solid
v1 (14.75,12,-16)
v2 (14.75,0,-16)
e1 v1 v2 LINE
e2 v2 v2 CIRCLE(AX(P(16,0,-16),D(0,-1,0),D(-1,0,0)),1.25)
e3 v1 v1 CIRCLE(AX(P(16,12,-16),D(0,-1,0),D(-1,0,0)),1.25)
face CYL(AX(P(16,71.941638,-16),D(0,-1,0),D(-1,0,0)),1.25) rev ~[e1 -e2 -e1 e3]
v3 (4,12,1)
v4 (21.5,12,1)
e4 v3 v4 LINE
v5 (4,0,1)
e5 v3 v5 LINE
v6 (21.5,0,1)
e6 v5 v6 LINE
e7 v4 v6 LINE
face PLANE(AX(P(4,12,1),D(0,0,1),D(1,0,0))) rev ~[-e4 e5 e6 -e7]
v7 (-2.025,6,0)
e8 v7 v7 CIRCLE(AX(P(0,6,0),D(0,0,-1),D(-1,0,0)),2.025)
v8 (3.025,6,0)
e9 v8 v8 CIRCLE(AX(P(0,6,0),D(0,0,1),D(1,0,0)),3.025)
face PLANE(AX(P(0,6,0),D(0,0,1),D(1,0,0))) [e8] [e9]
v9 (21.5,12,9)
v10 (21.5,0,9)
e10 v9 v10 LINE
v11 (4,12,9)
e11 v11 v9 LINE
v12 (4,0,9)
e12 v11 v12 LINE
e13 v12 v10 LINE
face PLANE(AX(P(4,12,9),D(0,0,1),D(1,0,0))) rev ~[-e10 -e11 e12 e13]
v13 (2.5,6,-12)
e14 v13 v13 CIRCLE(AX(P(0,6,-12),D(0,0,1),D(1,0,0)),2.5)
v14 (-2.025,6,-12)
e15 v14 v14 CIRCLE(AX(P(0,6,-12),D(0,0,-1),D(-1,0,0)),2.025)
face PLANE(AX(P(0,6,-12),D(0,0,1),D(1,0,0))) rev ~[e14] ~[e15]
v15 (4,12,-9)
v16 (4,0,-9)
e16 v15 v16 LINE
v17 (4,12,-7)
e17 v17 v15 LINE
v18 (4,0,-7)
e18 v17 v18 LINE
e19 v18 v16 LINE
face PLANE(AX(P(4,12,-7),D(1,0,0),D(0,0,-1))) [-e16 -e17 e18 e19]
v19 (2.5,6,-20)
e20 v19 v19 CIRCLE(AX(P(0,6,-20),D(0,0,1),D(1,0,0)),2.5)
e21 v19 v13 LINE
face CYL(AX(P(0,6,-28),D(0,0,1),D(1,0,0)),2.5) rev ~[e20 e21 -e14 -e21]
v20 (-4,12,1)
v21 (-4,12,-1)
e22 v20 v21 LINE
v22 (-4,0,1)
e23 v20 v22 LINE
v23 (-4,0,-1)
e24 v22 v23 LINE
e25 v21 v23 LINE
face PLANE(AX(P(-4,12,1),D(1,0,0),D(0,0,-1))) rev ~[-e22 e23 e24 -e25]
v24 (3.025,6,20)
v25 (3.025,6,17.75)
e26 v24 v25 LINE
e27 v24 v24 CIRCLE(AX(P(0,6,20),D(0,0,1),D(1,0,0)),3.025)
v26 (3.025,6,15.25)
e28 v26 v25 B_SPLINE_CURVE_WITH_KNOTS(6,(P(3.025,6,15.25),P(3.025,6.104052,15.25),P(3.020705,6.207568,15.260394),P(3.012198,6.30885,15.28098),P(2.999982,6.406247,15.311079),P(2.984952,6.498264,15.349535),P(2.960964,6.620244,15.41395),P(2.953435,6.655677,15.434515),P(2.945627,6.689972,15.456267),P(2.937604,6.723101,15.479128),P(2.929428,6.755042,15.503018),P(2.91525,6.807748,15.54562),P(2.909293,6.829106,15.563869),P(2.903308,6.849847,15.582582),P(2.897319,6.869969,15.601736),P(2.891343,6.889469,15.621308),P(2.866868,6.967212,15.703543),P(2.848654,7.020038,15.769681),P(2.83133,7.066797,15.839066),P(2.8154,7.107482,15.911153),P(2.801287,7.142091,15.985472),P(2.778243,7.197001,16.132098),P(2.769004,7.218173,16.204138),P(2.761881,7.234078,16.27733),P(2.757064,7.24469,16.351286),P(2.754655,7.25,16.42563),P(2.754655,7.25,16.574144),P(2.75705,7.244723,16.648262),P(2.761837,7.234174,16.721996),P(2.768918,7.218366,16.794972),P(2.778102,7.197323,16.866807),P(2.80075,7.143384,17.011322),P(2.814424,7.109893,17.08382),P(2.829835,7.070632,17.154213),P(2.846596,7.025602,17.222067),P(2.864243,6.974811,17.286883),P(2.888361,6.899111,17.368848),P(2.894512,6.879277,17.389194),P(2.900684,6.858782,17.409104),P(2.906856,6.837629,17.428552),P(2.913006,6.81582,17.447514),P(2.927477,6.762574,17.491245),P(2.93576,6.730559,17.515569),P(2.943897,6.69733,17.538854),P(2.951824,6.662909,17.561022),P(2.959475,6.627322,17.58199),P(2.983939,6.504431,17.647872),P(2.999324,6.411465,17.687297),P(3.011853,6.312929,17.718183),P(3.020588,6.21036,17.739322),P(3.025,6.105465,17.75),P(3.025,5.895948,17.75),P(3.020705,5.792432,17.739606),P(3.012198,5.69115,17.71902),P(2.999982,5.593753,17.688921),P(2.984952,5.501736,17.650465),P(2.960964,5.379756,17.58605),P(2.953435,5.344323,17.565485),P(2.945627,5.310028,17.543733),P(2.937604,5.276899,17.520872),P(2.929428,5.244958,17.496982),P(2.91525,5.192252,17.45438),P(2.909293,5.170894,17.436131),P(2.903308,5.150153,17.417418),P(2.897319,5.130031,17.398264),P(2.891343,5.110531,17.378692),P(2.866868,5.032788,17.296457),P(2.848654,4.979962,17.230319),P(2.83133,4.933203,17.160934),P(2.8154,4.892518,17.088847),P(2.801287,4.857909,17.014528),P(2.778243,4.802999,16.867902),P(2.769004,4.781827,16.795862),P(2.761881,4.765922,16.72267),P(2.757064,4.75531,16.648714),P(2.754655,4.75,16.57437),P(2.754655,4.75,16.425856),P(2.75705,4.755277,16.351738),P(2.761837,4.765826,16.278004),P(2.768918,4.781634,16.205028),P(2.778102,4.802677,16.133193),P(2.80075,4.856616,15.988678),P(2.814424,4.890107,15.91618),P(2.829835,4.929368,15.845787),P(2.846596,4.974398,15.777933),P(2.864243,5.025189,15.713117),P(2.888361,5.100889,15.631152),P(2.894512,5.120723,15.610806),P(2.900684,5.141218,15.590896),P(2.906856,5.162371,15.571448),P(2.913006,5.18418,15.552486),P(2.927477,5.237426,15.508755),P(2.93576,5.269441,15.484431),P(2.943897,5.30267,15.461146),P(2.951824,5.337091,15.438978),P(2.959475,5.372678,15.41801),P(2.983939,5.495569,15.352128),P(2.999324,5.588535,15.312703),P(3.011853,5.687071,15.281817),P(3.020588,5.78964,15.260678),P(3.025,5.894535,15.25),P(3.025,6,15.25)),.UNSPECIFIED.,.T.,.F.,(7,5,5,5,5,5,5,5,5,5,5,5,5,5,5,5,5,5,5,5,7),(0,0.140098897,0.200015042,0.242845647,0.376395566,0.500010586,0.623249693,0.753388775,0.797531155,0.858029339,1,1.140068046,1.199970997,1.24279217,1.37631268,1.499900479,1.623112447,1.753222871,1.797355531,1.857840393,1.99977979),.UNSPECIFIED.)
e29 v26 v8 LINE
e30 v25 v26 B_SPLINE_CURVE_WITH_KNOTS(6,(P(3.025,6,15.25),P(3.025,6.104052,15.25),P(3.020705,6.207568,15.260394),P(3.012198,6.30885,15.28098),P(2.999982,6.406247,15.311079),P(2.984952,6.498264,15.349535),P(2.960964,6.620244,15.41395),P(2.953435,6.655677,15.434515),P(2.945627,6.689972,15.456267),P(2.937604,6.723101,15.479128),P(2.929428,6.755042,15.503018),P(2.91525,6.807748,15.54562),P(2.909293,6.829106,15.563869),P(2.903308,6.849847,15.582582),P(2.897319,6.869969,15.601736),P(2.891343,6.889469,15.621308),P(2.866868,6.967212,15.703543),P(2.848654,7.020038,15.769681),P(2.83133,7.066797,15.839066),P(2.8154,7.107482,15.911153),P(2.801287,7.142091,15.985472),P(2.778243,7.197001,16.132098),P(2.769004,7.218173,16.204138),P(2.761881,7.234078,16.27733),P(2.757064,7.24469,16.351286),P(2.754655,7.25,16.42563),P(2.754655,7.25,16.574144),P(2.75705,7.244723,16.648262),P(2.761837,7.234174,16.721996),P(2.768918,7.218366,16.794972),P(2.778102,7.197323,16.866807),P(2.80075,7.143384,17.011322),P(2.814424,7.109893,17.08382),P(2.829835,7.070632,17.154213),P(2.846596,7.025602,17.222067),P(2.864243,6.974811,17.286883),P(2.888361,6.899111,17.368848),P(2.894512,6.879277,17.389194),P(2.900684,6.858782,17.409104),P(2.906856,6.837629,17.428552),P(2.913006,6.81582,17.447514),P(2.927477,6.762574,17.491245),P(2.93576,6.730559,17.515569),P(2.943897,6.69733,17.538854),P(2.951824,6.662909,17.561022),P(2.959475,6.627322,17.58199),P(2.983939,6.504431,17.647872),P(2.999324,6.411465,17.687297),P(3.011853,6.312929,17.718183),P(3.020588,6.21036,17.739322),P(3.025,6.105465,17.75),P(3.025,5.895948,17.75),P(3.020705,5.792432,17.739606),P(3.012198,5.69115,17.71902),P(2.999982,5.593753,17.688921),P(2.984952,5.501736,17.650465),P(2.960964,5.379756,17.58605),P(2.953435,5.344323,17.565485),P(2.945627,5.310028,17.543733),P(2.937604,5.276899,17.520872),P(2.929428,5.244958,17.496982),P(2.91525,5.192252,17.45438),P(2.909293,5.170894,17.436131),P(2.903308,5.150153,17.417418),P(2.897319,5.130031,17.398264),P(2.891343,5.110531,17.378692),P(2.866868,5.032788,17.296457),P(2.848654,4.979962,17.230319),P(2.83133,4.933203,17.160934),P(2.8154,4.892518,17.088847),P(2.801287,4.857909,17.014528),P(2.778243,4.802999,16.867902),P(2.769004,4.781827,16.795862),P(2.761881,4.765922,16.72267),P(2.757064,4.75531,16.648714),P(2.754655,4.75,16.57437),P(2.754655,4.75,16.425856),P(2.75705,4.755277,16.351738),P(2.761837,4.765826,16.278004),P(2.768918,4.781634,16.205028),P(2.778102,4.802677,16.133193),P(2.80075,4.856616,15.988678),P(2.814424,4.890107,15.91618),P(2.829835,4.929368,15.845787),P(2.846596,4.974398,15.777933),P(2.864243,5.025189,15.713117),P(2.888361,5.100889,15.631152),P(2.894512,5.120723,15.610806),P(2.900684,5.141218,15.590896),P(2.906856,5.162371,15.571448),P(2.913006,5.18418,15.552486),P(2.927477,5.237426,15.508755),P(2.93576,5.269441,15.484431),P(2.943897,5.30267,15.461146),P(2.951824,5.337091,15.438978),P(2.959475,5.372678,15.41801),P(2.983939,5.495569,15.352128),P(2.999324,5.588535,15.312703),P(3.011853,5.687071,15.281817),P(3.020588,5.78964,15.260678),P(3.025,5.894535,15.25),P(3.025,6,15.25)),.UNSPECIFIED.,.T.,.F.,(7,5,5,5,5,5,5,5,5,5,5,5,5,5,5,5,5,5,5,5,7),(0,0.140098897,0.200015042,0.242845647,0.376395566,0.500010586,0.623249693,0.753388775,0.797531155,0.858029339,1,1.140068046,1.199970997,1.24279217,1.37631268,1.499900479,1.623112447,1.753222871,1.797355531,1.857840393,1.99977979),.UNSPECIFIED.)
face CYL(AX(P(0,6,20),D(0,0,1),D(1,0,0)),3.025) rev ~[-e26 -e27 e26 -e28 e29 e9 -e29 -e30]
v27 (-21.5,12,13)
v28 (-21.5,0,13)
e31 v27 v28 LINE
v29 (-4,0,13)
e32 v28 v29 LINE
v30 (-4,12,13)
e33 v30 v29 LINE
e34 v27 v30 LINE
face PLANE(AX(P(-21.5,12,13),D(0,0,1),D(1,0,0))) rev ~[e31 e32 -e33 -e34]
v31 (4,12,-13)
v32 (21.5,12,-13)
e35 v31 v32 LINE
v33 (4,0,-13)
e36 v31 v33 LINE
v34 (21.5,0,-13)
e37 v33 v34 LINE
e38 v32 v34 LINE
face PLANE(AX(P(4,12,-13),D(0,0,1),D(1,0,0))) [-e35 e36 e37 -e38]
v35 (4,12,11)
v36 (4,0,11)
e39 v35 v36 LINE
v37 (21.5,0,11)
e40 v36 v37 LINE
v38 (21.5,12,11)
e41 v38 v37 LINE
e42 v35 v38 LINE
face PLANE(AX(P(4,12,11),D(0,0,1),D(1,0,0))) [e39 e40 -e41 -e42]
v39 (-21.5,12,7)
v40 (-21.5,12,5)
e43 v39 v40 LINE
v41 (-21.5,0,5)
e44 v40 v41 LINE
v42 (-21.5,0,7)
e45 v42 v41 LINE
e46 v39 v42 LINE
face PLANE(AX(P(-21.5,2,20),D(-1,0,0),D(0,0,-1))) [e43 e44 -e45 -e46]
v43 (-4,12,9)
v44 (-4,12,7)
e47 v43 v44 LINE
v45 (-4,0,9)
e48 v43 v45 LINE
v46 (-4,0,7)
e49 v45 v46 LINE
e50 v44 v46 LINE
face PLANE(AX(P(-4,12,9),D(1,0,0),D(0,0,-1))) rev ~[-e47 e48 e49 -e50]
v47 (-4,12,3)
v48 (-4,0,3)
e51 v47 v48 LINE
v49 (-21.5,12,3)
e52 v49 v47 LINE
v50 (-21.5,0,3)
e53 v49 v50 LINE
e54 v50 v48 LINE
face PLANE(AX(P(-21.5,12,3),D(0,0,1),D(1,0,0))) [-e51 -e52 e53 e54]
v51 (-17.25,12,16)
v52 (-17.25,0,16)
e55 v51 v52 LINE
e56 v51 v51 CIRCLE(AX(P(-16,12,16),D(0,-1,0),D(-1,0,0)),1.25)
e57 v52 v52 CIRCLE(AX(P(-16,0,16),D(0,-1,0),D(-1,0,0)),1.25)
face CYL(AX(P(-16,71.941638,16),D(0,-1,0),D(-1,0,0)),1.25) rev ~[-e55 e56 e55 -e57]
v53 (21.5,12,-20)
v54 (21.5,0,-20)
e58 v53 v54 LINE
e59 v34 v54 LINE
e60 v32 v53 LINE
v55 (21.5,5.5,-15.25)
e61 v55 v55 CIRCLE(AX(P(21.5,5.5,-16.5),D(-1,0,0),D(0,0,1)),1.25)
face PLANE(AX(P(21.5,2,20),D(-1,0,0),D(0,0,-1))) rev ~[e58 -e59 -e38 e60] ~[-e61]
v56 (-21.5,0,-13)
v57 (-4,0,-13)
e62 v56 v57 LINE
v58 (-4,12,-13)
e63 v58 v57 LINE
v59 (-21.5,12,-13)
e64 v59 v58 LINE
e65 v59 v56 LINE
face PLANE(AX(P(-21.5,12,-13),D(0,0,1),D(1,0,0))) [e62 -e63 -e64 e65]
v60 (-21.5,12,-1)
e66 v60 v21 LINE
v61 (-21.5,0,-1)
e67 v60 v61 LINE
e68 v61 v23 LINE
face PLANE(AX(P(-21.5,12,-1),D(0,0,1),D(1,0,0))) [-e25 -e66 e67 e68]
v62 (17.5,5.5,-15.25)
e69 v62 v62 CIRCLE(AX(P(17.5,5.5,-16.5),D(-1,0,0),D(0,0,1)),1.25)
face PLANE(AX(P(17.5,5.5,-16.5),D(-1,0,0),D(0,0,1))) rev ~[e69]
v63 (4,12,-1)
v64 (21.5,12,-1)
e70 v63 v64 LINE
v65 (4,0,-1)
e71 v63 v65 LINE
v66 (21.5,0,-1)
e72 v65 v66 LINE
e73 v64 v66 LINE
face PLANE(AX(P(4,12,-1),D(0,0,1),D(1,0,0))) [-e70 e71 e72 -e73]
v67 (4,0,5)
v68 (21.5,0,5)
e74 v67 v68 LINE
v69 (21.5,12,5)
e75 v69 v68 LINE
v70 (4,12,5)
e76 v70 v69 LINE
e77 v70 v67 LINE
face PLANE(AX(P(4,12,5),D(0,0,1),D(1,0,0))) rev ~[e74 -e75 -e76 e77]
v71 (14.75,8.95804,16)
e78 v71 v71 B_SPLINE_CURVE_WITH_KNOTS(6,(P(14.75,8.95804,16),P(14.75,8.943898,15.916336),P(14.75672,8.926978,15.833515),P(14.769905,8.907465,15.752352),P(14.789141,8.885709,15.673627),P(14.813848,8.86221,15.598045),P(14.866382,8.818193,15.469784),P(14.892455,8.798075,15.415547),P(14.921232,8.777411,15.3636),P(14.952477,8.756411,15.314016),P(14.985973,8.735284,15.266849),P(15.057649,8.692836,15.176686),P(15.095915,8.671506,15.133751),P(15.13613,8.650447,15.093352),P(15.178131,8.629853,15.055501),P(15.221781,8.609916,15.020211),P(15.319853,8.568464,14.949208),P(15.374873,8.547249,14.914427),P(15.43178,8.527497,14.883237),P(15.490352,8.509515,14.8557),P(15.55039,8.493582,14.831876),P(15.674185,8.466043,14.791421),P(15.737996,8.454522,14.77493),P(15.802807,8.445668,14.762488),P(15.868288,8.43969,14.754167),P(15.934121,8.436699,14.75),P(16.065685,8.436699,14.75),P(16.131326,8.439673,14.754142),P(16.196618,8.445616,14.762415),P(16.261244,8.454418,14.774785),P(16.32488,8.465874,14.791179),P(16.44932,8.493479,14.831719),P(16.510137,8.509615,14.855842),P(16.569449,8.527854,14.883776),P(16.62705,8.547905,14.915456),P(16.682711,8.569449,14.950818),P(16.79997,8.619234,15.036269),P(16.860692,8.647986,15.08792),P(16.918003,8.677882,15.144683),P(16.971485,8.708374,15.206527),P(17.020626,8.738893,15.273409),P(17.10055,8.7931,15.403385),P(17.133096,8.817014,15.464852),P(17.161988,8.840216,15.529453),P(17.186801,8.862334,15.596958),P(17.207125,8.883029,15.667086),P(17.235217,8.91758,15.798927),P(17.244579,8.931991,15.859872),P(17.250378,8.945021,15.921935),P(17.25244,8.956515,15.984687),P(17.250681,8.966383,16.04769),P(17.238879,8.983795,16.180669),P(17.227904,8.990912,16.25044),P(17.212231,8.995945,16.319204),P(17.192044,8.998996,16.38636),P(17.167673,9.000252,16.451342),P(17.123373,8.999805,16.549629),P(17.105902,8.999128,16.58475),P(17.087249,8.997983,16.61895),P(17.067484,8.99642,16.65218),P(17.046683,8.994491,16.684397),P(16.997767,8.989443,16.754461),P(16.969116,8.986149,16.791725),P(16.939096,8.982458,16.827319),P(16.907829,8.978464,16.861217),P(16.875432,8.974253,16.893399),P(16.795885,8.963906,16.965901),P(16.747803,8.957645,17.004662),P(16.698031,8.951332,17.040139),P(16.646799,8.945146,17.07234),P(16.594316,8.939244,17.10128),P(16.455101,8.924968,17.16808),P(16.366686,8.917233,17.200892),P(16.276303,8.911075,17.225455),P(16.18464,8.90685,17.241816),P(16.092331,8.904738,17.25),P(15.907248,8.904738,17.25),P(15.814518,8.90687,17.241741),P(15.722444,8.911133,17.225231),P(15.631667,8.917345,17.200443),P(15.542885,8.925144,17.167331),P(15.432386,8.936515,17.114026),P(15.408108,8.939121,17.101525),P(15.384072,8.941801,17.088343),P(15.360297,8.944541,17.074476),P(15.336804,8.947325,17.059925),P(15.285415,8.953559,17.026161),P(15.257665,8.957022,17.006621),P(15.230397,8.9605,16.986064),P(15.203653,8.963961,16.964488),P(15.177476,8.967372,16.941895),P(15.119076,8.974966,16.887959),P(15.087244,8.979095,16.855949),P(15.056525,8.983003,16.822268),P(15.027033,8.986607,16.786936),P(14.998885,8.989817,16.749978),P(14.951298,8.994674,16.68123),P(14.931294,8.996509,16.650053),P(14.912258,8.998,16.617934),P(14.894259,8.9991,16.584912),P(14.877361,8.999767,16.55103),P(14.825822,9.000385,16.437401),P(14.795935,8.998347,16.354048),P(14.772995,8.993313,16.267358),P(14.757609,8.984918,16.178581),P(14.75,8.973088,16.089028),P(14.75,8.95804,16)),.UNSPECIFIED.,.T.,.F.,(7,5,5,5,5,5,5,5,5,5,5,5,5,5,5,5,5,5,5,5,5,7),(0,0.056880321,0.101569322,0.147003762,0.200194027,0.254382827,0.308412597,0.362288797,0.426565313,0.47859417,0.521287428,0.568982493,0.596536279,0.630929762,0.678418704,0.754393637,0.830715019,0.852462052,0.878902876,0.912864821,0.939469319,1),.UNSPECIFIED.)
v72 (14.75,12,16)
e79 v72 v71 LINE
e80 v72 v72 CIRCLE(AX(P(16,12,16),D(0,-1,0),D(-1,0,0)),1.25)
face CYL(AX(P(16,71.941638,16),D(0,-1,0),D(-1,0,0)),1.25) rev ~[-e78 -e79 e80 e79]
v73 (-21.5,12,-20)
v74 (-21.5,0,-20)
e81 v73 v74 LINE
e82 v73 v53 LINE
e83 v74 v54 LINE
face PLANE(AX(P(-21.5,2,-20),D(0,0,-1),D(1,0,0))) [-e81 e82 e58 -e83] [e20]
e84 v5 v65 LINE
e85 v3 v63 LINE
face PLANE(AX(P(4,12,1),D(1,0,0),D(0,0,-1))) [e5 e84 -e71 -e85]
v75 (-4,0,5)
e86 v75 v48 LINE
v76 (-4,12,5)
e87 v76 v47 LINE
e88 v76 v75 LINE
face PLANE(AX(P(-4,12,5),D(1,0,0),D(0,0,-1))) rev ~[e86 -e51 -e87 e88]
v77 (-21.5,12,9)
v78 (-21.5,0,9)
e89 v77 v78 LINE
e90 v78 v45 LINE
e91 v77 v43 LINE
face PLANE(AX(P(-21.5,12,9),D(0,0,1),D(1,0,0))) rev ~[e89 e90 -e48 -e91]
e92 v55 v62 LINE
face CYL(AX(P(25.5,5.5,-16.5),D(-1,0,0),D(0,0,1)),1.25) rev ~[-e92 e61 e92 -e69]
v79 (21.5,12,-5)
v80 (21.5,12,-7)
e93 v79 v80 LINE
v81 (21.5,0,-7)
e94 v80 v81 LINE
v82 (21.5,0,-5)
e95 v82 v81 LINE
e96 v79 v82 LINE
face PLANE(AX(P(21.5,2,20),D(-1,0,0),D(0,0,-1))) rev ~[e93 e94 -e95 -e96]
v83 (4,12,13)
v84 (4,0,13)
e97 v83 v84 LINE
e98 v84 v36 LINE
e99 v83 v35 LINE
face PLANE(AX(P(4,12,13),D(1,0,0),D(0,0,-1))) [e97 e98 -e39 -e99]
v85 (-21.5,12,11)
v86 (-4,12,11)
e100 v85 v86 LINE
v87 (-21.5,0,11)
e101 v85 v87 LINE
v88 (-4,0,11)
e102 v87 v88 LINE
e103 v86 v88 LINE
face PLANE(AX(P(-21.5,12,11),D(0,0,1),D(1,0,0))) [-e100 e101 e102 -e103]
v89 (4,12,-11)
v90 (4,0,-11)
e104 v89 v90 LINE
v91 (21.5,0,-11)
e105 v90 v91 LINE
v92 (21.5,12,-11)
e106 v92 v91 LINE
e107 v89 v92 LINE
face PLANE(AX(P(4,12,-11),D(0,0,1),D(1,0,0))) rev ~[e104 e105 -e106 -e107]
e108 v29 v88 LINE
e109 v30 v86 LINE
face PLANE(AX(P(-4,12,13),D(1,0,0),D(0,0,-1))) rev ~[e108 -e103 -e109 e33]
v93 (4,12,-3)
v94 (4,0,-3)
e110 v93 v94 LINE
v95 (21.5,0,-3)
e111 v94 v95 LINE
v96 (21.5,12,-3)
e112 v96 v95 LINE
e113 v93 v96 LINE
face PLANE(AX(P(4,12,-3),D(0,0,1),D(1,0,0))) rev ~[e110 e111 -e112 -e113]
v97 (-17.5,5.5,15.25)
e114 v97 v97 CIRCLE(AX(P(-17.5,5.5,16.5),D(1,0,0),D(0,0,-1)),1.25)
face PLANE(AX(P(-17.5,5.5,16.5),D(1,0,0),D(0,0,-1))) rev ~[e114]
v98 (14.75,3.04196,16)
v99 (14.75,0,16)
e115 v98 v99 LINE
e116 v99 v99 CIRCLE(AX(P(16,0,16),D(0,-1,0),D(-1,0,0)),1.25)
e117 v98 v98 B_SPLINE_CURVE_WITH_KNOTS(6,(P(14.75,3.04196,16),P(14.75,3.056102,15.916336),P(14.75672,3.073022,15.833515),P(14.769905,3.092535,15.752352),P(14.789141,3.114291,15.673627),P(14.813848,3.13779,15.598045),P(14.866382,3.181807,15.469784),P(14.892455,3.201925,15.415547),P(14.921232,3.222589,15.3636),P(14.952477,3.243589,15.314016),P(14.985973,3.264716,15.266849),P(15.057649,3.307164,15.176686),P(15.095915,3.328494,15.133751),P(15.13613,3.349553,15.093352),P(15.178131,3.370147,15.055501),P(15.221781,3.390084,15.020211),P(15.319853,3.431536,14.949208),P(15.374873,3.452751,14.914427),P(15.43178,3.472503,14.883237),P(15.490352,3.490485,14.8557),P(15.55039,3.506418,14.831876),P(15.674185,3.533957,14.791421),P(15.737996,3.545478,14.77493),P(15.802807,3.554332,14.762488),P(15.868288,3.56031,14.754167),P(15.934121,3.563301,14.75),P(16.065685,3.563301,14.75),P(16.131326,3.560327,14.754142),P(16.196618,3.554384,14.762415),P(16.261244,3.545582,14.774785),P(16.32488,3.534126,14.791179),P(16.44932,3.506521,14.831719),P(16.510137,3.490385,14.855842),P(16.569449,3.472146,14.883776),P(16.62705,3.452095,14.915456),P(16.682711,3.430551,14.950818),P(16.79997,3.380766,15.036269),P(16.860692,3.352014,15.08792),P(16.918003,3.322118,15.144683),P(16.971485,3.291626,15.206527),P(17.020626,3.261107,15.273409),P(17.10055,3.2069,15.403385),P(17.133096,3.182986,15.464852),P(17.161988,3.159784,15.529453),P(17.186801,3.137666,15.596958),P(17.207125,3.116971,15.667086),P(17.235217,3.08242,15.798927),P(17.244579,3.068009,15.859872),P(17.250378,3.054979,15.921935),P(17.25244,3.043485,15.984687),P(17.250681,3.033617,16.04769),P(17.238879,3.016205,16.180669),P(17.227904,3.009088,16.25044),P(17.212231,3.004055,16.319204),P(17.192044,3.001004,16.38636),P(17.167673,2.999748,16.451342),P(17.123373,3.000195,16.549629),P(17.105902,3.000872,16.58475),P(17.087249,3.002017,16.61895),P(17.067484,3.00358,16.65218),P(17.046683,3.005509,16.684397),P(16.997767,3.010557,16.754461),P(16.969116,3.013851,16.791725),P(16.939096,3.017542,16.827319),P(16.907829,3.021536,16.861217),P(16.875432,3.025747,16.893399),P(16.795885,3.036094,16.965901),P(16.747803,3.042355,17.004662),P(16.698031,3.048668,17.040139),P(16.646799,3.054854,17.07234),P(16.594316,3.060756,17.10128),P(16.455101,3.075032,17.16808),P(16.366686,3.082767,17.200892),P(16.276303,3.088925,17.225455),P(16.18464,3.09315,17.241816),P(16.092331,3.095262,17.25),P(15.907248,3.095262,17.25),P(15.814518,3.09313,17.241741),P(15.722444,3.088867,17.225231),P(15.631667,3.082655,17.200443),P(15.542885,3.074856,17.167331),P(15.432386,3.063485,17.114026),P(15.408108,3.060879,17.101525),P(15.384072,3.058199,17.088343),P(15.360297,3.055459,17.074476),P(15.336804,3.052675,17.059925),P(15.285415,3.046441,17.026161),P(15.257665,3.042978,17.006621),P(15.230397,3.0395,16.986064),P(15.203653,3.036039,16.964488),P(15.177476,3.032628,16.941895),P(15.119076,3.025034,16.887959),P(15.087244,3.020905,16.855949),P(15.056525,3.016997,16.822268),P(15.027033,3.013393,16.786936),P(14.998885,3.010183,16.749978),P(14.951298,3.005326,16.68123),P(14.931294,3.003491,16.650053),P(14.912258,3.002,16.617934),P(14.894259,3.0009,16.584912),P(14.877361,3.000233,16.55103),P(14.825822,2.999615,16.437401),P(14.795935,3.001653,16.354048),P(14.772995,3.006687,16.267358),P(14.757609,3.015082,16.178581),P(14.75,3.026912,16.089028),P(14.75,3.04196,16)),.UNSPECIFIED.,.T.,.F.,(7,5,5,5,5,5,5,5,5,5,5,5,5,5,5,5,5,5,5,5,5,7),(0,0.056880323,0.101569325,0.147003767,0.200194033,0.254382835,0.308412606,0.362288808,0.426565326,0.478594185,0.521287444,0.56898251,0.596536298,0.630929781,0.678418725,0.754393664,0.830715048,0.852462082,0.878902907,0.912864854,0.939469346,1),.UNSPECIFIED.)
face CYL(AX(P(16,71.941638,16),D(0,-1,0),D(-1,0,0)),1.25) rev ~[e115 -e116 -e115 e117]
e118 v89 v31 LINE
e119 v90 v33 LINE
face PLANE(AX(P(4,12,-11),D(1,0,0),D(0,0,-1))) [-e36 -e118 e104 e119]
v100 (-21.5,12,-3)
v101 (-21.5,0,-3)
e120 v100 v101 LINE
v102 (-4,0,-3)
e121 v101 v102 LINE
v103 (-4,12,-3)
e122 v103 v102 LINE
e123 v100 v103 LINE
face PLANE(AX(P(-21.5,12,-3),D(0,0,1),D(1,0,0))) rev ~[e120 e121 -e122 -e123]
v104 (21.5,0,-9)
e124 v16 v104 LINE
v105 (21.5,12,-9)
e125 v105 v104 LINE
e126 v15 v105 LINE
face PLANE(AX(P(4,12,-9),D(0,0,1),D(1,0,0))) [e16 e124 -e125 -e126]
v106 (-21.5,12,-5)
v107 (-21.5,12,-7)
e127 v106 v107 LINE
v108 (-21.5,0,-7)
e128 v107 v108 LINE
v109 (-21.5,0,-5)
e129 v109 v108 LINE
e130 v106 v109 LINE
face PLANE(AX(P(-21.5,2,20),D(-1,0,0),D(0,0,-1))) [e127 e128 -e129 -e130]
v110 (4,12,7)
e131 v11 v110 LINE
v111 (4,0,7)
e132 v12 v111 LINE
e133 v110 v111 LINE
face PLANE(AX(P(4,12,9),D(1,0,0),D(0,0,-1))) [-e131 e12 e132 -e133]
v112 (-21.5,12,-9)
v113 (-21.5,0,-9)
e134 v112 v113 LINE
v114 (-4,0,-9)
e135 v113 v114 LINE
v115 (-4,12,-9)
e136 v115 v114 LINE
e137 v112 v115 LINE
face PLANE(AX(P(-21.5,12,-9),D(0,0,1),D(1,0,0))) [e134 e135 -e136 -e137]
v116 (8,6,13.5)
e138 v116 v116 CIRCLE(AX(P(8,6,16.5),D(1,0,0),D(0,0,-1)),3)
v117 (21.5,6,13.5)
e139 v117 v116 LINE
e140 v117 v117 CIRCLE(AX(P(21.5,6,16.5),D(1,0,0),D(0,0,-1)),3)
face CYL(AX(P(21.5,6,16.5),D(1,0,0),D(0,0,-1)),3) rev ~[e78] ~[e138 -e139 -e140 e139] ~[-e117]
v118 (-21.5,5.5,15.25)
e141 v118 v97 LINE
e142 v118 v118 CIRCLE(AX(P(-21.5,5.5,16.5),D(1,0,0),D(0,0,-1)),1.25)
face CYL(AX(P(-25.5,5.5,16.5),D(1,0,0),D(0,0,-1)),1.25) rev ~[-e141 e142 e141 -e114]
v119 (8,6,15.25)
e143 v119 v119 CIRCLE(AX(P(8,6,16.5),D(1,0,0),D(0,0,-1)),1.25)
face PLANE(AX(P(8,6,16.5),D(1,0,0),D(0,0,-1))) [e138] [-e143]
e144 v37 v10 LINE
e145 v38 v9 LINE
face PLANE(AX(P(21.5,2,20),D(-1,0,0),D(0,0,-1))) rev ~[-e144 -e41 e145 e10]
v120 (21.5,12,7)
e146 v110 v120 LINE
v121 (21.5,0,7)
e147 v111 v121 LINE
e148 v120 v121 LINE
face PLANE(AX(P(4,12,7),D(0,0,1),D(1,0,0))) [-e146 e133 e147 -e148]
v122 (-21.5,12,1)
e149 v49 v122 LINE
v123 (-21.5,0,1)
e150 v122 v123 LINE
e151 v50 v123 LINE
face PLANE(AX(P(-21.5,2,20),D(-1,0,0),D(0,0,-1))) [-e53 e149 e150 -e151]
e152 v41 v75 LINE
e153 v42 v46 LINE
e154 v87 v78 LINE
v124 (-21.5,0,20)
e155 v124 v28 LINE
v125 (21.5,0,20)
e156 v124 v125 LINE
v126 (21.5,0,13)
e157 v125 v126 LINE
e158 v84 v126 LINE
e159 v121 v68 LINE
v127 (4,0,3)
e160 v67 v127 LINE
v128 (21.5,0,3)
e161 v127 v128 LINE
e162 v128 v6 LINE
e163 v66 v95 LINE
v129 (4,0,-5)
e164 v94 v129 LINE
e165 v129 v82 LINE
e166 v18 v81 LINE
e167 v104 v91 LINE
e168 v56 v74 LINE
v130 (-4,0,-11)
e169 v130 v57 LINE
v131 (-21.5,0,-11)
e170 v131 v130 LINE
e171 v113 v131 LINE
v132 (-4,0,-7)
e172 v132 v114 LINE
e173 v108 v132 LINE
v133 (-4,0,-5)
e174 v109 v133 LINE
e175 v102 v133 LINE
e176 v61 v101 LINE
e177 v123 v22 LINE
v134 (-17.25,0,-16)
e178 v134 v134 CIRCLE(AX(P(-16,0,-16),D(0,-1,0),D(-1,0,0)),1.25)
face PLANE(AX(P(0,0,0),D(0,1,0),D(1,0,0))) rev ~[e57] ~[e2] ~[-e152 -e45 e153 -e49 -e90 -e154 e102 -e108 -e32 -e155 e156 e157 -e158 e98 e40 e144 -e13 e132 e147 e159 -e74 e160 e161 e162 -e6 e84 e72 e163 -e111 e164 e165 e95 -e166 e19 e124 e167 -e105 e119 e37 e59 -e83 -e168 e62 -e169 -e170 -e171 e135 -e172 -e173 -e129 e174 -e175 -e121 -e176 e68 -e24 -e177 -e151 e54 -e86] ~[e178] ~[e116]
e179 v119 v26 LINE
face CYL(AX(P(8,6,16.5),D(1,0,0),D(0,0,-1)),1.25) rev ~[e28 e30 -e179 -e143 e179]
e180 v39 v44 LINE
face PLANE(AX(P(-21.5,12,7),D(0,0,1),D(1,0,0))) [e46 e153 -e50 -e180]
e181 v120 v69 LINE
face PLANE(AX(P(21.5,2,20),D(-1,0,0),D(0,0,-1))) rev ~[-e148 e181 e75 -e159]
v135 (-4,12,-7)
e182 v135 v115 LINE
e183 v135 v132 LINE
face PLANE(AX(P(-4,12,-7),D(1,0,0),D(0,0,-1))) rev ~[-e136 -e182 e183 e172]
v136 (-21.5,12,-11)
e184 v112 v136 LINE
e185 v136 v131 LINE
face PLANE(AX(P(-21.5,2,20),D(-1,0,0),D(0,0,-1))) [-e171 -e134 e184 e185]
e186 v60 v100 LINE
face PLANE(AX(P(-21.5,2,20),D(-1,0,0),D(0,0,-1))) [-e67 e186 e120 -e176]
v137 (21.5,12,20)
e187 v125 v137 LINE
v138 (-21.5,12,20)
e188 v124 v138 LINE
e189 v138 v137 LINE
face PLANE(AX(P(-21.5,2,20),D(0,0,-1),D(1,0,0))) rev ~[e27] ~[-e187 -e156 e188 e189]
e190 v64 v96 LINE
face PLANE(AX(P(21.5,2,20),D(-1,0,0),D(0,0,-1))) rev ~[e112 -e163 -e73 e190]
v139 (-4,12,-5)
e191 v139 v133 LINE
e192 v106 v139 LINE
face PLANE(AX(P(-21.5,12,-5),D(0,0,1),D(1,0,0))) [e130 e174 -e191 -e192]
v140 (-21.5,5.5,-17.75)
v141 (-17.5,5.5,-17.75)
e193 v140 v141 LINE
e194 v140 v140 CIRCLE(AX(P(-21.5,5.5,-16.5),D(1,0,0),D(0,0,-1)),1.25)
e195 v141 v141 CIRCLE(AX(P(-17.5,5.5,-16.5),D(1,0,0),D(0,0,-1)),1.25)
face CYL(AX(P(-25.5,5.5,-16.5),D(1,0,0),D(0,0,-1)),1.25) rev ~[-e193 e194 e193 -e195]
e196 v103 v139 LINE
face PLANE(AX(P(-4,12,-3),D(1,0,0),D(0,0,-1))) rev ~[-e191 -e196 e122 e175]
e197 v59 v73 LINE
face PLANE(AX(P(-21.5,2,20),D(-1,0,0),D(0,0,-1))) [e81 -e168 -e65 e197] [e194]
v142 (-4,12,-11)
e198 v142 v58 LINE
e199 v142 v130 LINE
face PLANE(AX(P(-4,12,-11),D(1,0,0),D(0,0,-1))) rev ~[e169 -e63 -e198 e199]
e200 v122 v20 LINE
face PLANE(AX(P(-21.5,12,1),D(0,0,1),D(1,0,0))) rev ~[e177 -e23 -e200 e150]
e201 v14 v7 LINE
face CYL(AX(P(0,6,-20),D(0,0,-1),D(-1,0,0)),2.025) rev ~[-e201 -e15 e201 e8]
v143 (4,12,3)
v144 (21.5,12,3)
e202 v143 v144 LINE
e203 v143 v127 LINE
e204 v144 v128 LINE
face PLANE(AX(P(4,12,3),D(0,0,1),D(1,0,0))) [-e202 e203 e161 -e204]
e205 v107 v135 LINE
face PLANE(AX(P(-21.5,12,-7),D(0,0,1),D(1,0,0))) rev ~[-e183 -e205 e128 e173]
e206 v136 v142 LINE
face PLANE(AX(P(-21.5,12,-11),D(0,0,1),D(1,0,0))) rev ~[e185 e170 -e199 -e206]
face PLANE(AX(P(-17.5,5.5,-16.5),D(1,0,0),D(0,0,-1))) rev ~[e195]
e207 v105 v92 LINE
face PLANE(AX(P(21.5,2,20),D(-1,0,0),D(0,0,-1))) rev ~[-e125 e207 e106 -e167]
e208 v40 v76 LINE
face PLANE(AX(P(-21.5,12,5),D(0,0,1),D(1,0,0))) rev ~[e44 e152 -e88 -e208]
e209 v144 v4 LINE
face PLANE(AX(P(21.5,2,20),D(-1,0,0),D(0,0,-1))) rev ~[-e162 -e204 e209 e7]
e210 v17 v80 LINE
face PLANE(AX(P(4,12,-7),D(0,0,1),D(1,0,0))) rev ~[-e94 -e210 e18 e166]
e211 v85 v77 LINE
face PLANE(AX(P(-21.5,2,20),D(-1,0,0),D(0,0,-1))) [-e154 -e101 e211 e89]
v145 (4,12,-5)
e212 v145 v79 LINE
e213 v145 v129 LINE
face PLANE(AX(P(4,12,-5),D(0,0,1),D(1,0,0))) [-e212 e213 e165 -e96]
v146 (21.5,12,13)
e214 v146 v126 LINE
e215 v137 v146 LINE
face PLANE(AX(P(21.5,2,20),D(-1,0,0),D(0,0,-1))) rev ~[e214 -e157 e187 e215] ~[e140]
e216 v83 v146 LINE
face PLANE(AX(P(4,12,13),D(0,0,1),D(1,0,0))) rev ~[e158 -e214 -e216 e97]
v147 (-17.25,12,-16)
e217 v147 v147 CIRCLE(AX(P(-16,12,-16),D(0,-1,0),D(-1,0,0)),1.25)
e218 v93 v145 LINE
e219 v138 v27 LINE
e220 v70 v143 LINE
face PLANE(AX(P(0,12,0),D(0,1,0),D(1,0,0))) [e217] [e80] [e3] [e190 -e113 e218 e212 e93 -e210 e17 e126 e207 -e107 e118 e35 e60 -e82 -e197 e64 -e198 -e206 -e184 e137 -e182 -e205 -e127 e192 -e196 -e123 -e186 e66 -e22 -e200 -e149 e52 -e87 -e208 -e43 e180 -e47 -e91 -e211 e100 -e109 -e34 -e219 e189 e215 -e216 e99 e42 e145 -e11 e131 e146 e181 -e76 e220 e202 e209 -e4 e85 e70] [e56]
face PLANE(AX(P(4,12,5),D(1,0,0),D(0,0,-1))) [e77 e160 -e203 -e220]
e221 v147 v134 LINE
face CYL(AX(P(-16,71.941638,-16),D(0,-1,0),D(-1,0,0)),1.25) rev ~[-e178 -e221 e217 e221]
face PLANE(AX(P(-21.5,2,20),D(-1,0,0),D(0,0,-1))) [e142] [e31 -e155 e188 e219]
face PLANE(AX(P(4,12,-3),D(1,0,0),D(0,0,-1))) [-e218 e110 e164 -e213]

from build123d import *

# Parameters (mm, degrees)
SKETCH_1_W              = 43
SKETCH_1_H              = 40
EXTRUDE_1_DEPTH         = 2
SKETCH_3_W              = 43
SKETCH_3_H              = 40
EXTRUDE_3_DEPTH         = 10
SKETCH_4_R              = 3.025
CUT_EXTRUDE_1_DEPTH     = 20
CUT_EXTRUDE_2_REACH     = 48.971
SKETCH_5_R              = 2.025
HOLE_WIZARD_M6_1_D      = 5
HOLE_WIZARD_M6_1_DEPTH  = 8
SKETCH_8_W              = 17.5
SKETCH_8_H              = 2
CUT_EXTRUDE_3_DEPTH     = 12
HOLE_WIZARD_M3_1_D      = 2.5
HOLE_WIZARD_M3_2_D      = 2.5
HOLE_WIZARD_M3_2_DEPTH  = 4
HOLE_WIZARD_M3_3_D      = 2.5
HOLE_WIZARD_M3_3_DEPTH  = 4
SKETCH_16_R             = 3
CUT_EXTRUDE_4_DEPTH     = 13.5
HOLE_WIZARD_M3_4_REACH  = 39.607
HOLE_WIZARD_M3_4_BORE_R = 1.25


with BuildPart() as part:
    # 草图1 → 凸台-拉伸1 (new body)
    with BuildSketch(Plane(origin=(0, 0, 0), x_dir=(1, 0, 0), z_dir=(0, 1, 0))):
        Rectangle(SKETCH_1_W, SKETCH_1_H)
    extrude(amount=EXTRUDE_1_DEPTH)

    # 草图3 → 凸台-拉伸3 (add)
    with BuildSketch(Plane(origin=(0, 2, 0), x_dir=(1, 0, 0), z_dir=(0, 1, 0))):
        Rectangle(SKETCH_3_W, SKETCH_3_H)
    extrude(amount=EXTRUDE_3_DEPTH)

    # 草图4 → 切除-拉伸1 (cut)
    with BuildSketch(Plane.XY.offset(20)):
        with Locations((0, 6)):
            Circle(SKETCH_4_R)
    extrude(amount=-CUT_EXTRUDE_1_DEPTH, mode=Mode.SUBTRACT)

    # 草图5 → 切除-拉伸2 (cut, up to next)
    with BuildSketch(Plane(origin=(0, 0, -20), x_dir=(-1, 0, 0), z_dir=(0, 0, -1)), mode=Mode.PRIVATE) as cut_extrude_2_sk1:
        with Locations((0, 6)):
            Circle(SKETCH_5_R)
    cut_extrude_2_tool1 = extrude(cut_extrude_2_sk1.sketch, amount=-CUT_EXTRUDE_2_REACH, mode=Mode.PRIVATE) & part.part
    add(cut_extrude_2_tool1.solids().sort_by_distance((0, 6, -20))[0], mode=Mode.SUBTRACT)

    # M6 螺纹孔1
    with Locations(Plane(origin=(0, 0, -20), x_dir=(-1, 0, 0), z_dir=(0, 0, -1))):
        with Locations((0, 6)):
            Hole(HOLE_WIZARD_M6_1_D / 2, depth=HOLE_WIZARD_M6_1_DEPTH)

    # 草图8 → 切除-拉伸3 (cut)
    with BuildSketch(Plane(origin=(0, 12, 0), x_dir=(1, 0, 0), z_dir=(0, 1, 0))):
        with Locations((-12.75, -12)):
            Rectangle(SKETCH_8_W, SKETCH_8_H)
        with Locations((-12.75, -8)):
            Rectangle(SKETCH_8_W, SKETCH_8_H)
        with Locations((-12.75, -4)):
            Rectangle(SKETCH_8_W, SKETCH_8_H)
        with Locations((-12.75, 0)):
            Rectangle(SKETCH_8_W, SKETCH_8_H)
        with Locations((-12.75, 4)):
            Rectangle(SKETCH_8_W, SKETCH_8_H)
        with Locations((-12.75, 8)):
            Rectangle(SKETCH_8_W, SKETCH_8_H)
        with Locations((-12.75, 12)):
            Rectangle(SKETCH_8_W, SKETCH_8_H)
        with Locations((12.75, 12)):
            Rectangle(SKETCH_8_W, SKETCH_8_H)
        with Locations((12.75, 8)):
            Rectangle(SKETCH_8_W, SKETCH_8_H)
        with Locations((12.75, 4)):
            Rectangle(SKETCH_8_W, SKETCH_8_H)
        with Locations((12.75, 0)):
            Rectangle(SKETCH_8_W, SKETCH_8_H)
        with Locations((12.75, -4)):
            Rectangle(SKETCH_8_W, SKETCH_8_H)
        with Locations((12.75, -8)):
            Rectangle(SKETCH_8_W, SKETCH_8_H)
        with Locations((12.75, -12)):
            Rectangle(SKETCH_8_W, SKETCH_8_H)
    extrude(amount=-CUT_EXTRUDE_3_DEPTH, mode=Mode.SUBTRACT)

    # M3 螺纹孔1 (through all)
    with Locations(Plane(origin=(0, 12, 0), x_dir=(1, 0, 0), z_dir=(0, 1, 0))):
        with Locations((-16, 16), (16, 16), (-16, -16), (16, -16)):
            Hole(HOLE_WIZARD_M3_1_D / 2)

    # M3 螺纹孔2
    with Locations(Plane(origin=(21.5, 0, 0), x_dir=(0, 0, -1), z_dir=(1, 0, 0))):
        with Locations((16.5, 5.5)):
            Hole(HOLE_WIZARD_M3_2_D / 2, depth=HOLE_WIZARD_M3_2_DEPTH)

    # M3 螺纹孔3
    with Locations(Plane.ZY.offset(21.5)):
        with Locations((-16.5, 5.5), (16.5, 5.5)):
            Hole(HOLE_WIZARD_M3_3_D / 2, depth=HOLE_WIZARD_M3_3_DEPTH)

    # 草图16 → 切除-拉伸4 (cut)
    with BuildSketch(Plane(origin=(21.5, 0, 0), x_dir=(0, 0, -1), z_dir=(1, 0, 0))):
        with Locations((-16.5, 6)):
            Circle(SKETCH_16_R)
    extrude(amount=-CUT_EXTRUDE_4_DEPTH, mode=Mode.SUBTRACT)

    # M3 螺纹孔4 bore → M3 螺纹孔4 (cut, up to next)
    with BuildSketch(Plane(origin=(8, 0, 0), x_dir=(0, 0, -1), z_dir=(1, 0, 0)), mode=Mode.PRIVATE) as hole_wizard_m3_4_sk1:
        with Locations((-16.5, 6)):
            Circle(HOLE_WIZARD_M3_4_BORE_R)
    hole_wizard_m3_4_tool1 = extrude(hole_wizard_m3_4_sk1.sketch, amount=-HOLE_WIZARD_M3_4_REACH, mode=Mode.PRIVATE) & part.part
    add(hole_wizard_m3_4_tool1.solids().sort_by_distance((8, 6, 16.5))[0], mode=Mode.SUBTRACT)


solid = part.part
